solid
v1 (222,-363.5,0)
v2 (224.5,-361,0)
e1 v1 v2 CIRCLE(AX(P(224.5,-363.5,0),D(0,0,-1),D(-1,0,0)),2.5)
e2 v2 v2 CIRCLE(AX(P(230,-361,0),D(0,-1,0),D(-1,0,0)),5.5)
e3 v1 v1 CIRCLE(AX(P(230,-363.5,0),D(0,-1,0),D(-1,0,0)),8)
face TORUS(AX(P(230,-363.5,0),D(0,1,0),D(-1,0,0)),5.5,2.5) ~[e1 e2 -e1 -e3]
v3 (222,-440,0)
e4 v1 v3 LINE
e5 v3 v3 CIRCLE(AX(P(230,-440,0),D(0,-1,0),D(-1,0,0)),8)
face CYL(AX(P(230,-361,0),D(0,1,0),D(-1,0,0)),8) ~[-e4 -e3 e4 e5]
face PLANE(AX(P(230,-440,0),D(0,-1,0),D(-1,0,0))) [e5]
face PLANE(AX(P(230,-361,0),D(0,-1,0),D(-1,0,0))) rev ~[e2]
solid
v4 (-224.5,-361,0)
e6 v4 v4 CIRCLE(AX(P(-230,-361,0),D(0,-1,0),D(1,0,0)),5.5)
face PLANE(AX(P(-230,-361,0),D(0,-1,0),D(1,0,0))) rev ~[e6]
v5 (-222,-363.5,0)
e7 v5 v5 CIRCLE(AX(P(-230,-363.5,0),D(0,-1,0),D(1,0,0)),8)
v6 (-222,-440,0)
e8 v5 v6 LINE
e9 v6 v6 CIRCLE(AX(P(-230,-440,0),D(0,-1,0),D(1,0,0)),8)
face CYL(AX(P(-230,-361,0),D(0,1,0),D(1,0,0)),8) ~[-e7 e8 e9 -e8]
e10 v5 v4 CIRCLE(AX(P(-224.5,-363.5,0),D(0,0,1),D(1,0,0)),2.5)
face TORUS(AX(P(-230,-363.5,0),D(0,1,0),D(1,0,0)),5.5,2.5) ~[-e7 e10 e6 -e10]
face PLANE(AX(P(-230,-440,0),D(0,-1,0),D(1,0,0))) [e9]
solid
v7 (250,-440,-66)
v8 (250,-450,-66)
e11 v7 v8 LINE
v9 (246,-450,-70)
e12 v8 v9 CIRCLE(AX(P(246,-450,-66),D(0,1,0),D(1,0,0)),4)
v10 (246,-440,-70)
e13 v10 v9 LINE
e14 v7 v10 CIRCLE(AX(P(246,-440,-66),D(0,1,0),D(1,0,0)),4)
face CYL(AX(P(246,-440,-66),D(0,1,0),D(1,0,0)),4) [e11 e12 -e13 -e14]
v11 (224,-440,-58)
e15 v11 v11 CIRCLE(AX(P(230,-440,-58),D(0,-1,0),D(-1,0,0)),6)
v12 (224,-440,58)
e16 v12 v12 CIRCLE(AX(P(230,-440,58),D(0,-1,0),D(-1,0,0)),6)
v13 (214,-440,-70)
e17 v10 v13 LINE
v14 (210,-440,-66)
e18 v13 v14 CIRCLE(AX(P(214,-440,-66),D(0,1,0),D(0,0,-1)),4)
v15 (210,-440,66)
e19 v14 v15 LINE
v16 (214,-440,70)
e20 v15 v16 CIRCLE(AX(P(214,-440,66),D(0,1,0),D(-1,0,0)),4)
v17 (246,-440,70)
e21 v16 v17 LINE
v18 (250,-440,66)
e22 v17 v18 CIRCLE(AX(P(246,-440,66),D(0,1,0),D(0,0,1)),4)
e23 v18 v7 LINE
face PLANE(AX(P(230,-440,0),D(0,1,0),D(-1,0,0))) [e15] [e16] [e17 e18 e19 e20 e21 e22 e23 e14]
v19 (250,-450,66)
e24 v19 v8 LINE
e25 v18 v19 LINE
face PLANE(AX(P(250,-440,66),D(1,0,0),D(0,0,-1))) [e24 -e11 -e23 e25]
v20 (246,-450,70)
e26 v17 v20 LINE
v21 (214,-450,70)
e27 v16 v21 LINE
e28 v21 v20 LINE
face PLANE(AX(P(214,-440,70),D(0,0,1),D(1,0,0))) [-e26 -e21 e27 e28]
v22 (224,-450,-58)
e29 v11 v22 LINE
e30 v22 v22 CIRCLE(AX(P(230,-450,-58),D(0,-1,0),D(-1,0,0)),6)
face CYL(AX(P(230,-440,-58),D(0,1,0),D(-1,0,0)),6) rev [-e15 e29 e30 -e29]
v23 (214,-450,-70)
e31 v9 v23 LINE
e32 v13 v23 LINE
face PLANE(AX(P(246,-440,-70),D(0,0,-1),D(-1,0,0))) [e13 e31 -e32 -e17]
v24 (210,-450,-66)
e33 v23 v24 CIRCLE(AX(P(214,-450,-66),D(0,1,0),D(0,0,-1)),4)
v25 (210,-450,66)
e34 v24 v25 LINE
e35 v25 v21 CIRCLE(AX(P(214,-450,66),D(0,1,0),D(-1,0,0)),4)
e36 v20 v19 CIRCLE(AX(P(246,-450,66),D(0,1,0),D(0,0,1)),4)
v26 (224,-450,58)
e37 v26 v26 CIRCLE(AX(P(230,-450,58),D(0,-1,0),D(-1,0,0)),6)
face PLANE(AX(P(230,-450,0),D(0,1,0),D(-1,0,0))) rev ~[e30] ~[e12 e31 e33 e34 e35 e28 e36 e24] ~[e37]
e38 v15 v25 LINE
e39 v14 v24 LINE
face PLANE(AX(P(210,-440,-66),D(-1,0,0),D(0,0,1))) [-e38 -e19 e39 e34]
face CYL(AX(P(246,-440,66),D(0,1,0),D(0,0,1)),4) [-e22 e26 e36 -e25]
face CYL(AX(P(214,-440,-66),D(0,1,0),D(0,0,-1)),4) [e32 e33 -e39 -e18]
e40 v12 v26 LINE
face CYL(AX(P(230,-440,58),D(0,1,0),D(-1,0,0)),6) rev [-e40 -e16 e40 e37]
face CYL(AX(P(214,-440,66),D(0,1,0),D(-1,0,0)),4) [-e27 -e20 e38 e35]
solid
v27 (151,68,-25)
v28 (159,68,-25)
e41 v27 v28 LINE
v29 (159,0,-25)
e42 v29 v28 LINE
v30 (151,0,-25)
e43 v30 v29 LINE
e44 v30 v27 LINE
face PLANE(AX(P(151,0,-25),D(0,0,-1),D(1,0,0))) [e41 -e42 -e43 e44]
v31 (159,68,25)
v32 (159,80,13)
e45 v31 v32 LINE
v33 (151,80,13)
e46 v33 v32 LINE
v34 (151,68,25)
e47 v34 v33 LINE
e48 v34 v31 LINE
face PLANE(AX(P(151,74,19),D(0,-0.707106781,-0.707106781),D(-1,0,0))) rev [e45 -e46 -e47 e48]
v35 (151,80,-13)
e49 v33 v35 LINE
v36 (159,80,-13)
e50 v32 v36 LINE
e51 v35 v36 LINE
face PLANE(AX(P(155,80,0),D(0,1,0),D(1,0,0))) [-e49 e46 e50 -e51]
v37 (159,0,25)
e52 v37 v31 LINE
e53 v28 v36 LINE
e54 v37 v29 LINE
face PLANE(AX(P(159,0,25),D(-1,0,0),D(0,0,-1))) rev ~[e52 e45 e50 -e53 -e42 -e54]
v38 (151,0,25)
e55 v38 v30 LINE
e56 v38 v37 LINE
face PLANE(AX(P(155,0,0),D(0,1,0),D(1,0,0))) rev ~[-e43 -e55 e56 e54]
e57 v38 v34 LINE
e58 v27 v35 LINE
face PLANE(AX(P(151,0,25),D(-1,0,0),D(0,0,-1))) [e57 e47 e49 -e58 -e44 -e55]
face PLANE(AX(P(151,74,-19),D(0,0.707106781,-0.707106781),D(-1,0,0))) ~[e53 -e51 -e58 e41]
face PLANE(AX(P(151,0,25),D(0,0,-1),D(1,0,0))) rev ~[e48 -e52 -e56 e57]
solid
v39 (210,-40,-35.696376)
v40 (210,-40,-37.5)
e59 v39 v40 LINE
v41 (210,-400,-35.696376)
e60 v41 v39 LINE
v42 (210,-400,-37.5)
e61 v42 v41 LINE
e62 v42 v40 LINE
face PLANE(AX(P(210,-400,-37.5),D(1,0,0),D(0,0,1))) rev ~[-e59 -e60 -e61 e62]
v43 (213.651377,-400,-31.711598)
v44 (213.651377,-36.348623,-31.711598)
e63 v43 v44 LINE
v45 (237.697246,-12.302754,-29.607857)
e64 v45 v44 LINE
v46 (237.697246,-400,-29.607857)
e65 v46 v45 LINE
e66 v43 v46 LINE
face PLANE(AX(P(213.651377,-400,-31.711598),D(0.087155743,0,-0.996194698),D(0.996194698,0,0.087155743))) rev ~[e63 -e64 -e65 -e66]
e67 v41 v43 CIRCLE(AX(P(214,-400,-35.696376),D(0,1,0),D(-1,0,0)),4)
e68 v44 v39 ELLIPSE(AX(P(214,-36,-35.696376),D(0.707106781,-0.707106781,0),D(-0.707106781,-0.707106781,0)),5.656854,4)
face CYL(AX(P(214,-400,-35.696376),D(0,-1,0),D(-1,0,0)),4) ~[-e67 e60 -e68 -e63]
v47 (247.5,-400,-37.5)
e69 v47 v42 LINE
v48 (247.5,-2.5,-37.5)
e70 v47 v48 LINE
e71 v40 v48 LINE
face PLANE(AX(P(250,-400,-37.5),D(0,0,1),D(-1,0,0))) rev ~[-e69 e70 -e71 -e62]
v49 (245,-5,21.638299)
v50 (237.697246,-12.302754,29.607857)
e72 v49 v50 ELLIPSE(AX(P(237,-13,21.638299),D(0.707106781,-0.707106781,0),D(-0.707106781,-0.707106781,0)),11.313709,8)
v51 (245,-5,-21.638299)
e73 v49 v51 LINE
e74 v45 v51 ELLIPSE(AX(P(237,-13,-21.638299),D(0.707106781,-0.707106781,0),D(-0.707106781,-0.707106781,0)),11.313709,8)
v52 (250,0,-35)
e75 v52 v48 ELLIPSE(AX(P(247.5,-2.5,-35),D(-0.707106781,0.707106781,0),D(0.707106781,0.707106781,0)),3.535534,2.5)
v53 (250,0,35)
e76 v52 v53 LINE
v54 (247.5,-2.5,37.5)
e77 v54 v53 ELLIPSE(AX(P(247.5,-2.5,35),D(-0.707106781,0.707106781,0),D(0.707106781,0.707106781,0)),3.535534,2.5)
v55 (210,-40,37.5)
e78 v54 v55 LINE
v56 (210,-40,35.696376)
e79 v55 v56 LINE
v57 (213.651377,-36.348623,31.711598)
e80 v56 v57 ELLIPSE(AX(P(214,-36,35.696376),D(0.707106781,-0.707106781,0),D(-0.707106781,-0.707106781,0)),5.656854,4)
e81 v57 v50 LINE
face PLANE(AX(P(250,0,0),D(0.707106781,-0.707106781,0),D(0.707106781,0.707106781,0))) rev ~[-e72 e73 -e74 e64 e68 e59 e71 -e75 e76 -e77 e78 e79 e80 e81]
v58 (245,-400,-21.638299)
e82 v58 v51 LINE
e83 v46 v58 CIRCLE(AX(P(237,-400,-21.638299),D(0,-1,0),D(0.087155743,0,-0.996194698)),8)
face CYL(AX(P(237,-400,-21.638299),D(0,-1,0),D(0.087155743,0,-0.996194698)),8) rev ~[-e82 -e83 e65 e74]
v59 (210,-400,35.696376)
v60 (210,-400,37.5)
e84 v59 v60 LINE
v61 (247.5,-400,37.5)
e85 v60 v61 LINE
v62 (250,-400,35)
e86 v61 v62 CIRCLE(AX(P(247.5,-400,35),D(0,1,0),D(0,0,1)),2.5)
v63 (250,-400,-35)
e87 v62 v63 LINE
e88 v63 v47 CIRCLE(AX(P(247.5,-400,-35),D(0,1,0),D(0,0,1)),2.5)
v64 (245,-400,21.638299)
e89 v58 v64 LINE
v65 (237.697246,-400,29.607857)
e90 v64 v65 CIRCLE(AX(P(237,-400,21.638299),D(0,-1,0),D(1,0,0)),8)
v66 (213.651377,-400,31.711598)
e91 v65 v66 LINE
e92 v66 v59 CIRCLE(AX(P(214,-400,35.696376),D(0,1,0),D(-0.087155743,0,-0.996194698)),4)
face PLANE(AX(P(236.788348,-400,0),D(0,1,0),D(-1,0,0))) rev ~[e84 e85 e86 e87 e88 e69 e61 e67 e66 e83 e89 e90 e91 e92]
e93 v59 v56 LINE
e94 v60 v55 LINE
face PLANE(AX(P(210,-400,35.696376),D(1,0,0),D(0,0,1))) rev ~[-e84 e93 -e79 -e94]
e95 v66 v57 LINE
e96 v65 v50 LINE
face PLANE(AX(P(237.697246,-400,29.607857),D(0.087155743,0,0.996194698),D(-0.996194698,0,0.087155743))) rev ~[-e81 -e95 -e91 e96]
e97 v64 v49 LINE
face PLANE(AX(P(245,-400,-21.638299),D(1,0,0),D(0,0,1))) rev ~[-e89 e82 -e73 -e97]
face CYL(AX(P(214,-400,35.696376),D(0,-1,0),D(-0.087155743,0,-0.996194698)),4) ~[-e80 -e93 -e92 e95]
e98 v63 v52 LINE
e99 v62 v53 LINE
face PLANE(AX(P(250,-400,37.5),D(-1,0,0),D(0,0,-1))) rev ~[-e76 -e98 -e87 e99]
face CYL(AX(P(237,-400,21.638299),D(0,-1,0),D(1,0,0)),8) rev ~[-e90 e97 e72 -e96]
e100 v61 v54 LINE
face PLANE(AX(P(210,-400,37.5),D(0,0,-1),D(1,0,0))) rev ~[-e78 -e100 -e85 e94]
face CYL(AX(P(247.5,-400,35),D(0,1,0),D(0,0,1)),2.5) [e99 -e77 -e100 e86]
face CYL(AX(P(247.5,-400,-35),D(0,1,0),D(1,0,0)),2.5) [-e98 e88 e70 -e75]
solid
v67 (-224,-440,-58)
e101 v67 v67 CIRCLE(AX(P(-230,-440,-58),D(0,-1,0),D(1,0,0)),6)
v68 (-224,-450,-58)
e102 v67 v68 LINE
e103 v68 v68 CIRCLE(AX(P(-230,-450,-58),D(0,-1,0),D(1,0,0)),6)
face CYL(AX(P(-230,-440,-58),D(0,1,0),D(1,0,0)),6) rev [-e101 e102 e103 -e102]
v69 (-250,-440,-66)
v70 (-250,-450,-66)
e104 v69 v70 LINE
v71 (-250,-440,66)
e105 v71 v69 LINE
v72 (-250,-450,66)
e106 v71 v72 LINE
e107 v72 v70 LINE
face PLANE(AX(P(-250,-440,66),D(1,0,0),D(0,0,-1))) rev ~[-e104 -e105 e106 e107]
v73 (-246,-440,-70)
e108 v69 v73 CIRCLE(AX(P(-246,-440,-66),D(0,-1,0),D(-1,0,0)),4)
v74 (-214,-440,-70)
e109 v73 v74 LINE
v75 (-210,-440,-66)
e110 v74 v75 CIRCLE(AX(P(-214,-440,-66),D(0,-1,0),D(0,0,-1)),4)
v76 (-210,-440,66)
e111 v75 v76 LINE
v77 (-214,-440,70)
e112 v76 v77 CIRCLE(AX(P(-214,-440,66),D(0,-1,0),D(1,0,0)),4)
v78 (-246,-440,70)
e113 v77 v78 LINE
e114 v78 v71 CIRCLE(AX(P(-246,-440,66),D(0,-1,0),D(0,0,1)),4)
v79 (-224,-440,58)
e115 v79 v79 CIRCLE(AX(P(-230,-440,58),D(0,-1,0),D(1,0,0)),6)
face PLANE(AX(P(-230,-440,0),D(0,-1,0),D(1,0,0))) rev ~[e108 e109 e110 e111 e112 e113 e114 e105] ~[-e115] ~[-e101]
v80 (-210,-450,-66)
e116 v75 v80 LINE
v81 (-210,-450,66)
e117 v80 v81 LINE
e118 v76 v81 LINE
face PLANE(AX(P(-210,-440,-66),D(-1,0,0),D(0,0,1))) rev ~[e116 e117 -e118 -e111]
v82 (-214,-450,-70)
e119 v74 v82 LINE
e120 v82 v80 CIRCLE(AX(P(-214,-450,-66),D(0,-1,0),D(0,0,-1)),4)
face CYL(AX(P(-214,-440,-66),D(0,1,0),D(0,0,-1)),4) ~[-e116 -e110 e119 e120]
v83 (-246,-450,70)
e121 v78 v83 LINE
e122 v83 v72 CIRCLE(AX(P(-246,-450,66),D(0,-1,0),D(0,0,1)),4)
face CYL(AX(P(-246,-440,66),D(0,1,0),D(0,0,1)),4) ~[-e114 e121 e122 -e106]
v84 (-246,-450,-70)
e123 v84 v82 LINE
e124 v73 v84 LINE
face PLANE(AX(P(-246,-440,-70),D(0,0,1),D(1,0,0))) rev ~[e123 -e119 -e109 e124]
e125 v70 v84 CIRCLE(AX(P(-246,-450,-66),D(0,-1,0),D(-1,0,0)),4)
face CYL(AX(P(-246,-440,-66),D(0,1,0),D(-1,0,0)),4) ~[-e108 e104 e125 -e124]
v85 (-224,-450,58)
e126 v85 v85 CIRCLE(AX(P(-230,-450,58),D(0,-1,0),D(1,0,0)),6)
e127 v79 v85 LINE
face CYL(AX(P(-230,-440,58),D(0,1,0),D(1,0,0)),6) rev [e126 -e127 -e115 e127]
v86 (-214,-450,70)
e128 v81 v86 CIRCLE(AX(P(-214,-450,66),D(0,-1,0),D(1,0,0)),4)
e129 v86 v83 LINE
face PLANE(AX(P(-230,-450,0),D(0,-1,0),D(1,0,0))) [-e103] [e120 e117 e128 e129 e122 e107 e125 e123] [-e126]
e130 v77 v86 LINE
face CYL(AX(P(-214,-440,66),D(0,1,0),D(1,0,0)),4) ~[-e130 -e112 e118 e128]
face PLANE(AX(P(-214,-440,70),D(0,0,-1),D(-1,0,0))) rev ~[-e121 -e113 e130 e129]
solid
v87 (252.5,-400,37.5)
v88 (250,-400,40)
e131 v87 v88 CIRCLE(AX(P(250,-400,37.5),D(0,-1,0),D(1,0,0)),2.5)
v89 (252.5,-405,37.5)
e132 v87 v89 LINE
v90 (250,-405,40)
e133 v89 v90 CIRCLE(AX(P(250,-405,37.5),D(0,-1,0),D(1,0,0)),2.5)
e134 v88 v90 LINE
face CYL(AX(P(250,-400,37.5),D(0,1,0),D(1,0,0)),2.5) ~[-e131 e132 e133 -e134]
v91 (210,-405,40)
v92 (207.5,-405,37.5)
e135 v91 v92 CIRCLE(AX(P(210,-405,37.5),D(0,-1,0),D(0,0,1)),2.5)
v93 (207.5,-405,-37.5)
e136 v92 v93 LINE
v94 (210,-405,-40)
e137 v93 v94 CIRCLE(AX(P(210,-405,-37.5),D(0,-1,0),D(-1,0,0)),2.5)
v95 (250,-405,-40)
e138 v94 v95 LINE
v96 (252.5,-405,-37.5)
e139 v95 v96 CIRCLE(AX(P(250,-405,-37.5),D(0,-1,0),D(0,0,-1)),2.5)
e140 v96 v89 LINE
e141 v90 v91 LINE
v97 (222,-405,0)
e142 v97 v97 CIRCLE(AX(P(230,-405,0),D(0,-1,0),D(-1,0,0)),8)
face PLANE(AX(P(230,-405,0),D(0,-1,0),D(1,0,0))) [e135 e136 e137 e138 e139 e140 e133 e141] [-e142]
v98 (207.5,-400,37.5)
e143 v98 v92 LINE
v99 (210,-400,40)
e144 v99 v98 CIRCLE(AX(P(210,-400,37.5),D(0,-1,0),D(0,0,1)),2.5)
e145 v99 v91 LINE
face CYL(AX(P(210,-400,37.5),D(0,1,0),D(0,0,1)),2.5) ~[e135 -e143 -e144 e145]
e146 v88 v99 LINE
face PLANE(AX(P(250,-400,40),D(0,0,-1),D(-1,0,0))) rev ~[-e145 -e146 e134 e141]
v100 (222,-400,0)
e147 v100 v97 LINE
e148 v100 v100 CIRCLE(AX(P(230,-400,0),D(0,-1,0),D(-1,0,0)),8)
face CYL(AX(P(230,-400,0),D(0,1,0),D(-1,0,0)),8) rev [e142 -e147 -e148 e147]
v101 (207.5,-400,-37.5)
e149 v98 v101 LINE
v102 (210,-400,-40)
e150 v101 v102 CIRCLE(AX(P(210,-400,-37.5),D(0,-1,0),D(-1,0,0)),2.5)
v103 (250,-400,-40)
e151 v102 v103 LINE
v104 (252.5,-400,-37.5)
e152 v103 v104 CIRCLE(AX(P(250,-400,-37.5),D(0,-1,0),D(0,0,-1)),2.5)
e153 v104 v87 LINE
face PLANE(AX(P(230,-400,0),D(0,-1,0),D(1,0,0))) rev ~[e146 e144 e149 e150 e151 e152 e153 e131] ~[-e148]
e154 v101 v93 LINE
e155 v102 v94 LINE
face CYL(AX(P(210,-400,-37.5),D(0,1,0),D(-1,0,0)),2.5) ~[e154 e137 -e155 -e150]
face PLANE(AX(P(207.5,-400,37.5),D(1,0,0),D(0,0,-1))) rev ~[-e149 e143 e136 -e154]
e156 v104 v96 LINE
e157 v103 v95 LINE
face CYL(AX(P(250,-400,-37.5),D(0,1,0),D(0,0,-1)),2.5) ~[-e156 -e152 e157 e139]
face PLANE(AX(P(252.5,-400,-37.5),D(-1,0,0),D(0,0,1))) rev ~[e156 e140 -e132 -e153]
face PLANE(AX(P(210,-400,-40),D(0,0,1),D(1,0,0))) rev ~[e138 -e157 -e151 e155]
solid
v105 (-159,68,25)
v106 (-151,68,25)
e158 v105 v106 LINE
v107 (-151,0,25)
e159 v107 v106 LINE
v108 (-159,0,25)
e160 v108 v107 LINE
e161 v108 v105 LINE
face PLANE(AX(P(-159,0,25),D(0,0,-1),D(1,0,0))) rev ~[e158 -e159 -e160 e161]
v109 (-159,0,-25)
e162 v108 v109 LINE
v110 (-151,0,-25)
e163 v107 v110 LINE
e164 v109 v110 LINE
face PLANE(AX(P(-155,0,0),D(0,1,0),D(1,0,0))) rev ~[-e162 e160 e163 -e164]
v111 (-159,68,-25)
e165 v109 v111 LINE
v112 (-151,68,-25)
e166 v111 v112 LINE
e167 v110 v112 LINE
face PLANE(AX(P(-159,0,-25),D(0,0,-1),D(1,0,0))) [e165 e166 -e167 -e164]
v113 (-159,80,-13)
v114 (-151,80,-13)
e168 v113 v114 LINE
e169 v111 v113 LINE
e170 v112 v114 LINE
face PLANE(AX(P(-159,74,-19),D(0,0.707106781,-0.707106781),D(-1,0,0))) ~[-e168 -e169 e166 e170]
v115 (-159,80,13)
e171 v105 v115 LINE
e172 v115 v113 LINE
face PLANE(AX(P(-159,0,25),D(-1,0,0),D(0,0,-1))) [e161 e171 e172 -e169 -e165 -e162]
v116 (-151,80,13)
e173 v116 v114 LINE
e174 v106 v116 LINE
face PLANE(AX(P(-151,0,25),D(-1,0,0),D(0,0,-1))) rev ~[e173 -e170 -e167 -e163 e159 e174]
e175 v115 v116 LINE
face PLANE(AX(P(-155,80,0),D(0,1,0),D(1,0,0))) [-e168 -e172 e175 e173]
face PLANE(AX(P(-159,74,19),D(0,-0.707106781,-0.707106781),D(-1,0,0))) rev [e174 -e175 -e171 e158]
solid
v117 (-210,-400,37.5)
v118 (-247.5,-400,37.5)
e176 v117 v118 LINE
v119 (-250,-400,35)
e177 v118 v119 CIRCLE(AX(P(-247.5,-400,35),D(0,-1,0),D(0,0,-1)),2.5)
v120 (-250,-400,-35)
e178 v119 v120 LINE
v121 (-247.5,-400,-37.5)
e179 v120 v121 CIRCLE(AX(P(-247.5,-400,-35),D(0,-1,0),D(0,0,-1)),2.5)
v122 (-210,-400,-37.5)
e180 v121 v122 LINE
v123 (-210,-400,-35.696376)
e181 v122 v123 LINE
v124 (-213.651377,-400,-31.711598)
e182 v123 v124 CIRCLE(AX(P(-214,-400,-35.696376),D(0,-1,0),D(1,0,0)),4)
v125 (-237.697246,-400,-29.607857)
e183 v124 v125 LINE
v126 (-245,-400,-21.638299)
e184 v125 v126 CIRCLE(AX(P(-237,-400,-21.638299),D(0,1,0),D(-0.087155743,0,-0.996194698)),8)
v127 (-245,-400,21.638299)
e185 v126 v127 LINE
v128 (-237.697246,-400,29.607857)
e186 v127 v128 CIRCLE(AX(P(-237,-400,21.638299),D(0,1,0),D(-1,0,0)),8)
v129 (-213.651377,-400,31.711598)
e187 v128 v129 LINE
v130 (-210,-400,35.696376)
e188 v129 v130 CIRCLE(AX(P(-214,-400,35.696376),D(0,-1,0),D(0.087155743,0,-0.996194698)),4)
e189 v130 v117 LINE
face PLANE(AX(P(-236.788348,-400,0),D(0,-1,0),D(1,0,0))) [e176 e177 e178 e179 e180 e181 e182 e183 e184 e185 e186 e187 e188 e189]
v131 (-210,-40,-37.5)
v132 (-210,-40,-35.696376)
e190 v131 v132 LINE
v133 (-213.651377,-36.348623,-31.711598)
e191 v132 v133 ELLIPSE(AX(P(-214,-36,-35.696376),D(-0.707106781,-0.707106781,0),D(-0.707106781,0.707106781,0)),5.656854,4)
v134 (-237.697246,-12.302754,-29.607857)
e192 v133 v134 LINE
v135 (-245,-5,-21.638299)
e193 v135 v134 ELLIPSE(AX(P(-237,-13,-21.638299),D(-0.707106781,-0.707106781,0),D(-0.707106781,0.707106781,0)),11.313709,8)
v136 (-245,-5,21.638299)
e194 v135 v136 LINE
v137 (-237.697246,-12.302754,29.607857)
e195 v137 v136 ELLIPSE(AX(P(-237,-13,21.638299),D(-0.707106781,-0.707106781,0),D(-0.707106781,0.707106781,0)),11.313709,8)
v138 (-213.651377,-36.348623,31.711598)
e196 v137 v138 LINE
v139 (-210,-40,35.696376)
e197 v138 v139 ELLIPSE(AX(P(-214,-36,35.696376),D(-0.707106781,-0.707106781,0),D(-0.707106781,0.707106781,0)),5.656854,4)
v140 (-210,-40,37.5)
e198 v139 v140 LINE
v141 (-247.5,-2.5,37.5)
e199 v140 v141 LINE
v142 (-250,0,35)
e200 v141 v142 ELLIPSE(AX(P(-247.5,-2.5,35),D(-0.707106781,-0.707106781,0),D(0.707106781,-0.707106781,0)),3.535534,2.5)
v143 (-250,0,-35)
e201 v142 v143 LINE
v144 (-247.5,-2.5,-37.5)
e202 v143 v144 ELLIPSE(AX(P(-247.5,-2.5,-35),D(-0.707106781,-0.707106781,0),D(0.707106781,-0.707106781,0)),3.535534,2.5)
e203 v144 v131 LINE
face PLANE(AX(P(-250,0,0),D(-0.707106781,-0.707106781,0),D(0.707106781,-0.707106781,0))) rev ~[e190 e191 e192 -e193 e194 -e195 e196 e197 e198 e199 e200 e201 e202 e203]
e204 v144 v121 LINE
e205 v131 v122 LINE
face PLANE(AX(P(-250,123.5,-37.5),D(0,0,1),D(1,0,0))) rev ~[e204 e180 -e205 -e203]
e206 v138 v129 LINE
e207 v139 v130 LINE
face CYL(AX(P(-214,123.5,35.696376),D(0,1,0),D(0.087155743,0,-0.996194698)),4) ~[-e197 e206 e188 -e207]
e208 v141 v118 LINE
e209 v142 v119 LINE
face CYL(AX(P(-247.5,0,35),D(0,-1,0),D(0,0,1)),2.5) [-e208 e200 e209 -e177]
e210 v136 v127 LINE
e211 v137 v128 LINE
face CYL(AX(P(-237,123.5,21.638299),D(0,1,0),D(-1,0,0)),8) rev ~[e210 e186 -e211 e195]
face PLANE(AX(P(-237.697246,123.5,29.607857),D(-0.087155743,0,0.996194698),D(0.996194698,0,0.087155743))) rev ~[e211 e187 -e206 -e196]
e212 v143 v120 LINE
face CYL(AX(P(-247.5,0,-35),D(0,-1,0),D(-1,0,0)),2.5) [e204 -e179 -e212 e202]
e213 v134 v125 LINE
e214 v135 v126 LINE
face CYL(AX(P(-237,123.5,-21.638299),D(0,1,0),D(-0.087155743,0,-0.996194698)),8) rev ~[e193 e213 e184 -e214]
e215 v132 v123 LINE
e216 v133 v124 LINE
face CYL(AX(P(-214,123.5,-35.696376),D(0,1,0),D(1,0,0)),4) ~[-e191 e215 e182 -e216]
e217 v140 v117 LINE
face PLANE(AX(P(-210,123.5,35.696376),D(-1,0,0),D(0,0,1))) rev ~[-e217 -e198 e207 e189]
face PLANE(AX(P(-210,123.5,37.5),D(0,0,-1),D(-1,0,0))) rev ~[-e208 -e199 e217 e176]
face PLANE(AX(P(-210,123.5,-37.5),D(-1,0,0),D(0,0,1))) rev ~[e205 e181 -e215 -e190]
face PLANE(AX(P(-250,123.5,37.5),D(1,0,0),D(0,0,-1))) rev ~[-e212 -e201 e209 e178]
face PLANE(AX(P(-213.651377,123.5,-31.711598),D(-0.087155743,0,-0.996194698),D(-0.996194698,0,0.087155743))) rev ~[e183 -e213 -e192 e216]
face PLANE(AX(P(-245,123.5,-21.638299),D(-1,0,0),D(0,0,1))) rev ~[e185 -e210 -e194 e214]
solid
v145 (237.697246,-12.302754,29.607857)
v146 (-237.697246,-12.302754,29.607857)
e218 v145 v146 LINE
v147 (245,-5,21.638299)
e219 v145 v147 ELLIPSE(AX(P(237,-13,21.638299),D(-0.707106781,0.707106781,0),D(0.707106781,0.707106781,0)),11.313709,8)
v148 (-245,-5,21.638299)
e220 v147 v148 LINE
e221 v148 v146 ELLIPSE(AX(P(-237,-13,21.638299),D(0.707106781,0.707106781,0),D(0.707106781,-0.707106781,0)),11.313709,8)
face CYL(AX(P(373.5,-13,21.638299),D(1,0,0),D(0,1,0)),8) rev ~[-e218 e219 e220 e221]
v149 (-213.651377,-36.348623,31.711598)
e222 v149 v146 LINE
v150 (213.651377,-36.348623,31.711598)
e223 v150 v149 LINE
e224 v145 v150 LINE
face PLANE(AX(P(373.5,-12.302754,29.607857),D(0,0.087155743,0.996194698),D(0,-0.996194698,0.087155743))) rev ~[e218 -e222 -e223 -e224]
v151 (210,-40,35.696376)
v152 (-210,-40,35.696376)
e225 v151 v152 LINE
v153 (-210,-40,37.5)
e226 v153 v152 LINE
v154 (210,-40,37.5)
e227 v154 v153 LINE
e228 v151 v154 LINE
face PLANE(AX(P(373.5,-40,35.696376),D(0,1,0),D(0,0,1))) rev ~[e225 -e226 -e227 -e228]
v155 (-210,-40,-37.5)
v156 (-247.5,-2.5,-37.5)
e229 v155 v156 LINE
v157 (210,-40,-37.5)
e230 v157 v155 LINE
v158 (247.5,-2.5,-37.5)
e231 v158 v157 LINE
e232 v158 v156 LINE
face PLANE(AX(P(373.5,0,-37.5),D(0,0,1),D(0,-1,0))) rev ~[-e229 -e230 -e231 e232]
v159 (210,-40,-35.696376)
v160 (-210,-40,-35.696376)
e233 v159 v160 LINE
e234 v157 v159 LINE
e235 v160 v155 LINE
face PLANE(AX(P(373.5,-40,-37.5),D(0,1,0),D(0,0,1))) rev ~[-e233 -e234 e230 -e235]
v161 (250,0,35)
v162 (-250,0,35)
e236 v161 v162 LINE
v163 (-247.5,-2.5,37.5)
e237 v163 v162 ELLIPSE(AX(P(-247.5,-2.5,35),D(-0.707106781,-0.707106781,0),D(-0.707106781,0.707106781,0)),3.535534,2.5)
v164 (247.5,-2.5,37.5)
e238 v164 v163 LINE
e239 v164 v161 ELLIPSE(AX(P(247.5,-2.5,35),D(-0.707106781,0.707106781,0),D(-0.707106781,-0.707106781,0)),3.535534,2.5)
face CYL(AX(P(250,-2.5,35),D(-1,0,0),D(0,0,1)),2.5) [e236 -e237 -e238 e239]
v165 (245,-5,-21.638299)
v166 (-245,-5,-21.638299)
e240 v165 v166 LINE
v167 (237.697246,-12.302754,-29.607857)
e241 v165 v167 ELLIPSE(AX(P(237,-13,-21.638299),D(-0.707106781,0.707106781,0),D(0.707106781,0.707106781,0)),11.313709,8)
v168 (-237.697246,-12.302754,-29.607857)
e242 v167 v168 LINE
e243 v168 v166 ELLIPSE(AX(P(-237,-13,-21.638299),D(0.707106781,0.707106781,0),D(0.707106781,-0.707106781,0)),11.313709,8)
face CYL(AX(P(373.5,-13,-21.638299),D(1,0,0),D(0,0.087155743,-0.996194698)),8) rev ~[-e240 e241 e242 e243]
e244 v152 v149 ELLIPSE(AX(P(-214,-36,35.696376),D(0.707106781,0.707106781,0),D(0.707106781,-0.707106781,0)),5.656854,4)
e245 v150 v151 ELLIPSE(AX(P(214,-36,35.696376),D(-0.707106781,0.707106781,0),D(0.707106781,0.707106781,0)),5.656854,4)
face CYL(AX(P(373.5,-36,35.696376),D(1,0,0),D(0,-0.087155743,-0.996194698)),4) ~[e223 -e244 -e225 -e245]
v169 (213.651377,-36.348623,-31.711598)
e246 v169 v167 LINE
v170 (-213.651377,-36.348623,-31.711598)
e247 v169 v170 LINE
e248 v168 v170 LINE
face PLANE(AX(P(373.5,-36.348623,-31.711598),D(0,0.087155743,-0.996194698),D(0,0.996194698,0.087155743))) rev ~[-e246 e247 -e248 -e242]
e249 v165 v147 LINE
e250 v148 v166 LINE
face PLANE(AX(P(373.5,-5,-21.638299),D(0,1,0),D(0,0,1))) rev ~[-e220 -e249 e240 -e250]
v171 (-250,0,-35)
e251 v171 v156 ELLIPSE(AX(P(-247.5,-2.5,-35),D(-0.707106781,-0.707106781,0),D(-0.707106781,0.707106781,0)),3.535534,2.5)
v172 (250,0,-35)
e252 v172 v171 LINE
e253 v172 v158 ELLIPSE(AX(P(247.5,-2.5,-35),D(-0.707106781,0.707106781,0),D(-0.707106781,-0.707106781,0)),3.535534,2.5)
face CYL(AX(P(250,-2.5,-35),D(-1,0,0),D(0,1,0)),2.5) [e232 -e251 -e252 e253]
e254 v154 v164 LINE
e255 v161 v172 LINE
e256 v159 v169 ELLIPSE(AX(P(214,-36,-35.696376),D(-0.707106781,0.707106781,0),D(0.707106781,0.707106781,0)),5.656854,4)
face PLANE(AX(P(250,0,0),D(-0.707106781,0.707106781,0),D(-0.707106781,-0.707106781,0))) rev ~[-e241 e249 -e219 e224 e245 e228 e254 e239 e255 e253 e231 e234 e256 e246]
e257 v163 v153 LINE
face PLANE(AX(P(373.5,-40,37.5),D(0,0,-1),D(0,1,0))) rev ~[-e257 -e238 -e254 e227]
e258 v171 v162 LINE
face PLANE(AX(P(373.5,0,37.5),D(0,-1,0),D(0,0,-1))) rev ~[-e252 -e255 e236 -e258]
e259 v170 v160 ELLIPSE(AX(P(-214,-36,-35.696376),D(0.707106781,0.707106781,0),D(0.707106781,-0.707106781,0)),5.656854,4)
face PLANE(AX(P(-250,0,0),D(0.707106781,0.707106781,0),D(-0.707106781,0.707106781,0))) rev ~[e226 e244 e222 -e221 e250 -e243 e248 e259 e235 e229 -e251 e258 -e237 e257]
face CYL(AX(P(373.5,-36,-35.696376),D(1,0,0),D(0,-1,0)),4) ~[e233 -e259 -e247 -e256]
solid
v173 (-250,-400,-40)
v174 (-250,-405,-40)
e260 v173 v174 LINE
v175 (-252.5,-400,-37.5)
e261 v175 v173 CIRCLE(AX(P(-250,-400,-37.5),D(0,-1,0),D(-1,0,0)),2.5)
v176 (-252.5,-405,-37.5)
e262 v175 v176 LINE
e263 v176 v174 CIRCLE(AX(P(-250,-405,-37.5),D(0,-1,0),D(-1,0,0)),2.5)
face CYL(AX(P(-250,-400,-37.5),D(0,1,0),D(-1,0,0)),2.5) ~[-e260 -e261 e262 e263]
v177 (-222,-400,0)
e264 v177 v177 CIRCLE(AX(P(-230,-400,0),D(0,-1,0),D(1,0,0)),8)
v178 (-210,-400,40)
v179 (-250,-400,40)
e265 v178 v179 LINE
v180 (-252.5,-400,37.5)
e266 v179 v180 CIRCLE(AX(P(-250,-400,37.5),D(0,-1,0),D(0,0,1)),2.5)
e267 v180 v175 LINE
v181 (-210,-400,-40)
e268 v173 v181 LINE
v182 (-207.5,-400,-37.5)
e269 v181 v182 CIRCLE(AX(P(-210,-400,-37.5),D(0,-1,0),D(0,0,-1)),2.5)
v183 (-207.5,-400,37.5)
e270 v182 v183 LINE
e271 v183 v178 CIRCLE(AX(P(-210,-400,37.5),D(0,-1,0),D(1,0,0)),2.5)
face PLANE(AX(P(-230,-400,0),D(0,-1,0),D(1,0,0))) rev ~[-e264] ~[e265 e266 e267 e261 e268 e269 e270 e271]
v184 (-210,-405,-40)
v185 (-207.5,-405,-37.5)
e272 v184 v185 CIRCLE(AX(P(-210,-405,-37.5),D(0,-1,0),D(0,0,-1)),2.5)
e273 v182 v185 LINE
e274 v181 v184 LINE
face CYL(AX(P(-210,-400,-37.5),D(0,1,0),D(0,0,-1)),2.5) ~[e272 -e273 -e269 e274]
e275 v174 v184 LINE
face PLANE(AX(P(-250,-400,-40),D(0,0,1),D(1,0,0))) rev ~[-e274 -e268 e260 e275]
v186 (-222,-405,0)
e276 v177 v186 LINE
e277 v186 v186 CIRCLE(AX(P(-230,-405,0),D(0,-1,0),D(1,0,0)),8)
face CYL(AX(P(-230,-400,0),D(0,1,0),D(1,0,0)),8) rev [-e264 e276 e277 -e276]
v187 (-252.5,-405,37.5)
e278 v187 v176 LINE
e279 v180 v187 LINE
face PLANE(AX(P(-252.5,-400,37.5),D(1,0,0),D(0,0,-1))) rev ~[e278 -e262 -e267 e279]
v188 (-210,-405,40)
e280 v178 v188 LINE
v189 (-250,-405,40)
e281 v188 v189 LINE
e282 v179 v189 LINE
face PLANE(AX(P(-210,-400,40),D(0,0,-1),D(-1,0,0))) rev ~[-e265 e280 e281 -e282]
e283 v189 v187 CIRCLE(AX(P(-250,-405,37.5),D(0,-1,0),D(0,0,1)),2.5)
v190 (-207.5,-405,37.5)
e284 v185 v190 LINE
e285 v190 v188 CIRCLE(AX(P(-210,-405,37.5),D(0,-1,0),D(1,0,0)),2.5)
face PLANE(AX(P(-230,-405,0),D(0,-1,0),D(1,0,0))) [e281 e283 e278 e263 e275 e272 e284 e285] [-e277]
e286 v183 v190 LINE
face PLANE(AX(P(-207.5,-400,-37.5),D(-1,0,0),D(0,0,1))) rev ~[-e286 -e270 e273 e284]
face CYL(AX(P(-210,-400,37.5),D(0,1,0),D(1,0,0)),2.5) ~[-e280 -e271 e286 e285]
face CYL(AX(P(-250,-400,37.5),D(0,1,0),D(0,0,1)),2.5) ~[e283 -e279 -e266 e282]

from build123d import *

# Parameters (mm, degrees)
CHANNEL_C_75_X_40_X_5_0_1_DEPTH        = 523.5
CHANNEL_C_75_X_40_X_5_0_1_2_DEPTH      = 747
CHANNEL_C_75_X_40_X_5_0_1_3_DEPTH      = 400
CHANNEL_C_75_X_40_X_5_0_1_3_DEPTH_BACK = 123.5
SKETCH15_R                             = 8
BOSS_EXTRUDE1_DEPTH                    = 5
BOSS_EXTRUDE1_2_DEPTH                  = 5
FILLET1_R                              = 2.5
FILLET2_R                              = 2.5
FILLET3_R                              = 2.5
SKETCH16_W                             = 8
SKETCH16_H                             = 50
BOSS_EXTRUDE2_DEPTH                    = 80
BOSS_EXTRUDE2_2_DEPTH                  = 80
CHAMFER1_SIZE                          = 12
CHAMFER2_SIZE                          = 12
BOSS_EXTRUDE3_DEPTH                    = 35
BOSS_EXTRUDE3_DEPTH_BACK               = 44
SKETCH17_R                             = 8
BOSS_EXTRUDE3_2_DEPTH                  = 35
BOSS_EXTRUDE3_2_DEPTH_BACK             = 44
FILLET6_R                              = 2.5
FILLET7_R                              = 2.5
SKETCH18_R                             = 6
BOSS_EXTRUDE4_DEPTH                    = 10
BOSS_EXTRUDE4_2_DEPTH                  = 10


with BuildPart() as part:
    # Sketch14 on segment 1 (carried to segment 1) → Channel C 75 X 40 X 5.0(1) (new body)
    with BuildSketch(Plane(origin=(250, -400, -37.5), x_dir=(-1, 0, 0), z_dir=(0, 1, 0))):
        with BuildLine():
            Line((40, 75), (0, 75))
            Line((0, 75), (0, 0))
            Line((0, 0), (40, 0))
            Line((40, 0), (40, 1.803623692))
            ThreePointArc((40, 1.803623692), (38.949109347, 4.505984523), (36.348622971, 5.788402485))
            Line((36.348622971, 5.788402485), (12.302754058, 7.892143419))
            ThreePointArc((12.302754058, 7.892143419), (7.101781306, 10.456979343), (5, 15.861701004))
            Line((5, 15.861701004), (5, 59.138298996))
            ThreePointArc((5, 59.138298996), (7.101781306, 64.543020657), (12.302754058, 67.107856581))
            Line((12.302754058, 67.107856581), (36.348622971, 69.211597515))
            ThreePointArc((36.348622971, 69.211597515), (38.949109347, 70.494015477), (40, 73.196376308))
            Line((40, 73.196376308), (40, 75))
        make_face()
    extrude(amount=CHANNEL_C_75_X_40_X_5_0_1_DEPTH)

    # Channel C 75 X 40 X 5.0(1) mitre 1
    split(bisect_by=Plane(origin=(250, 0, 0), x_dir=(0.707106781, 0.707106781, 0), z_dir=(0.707106781, -0.707106781, 0)), keep=Keep.TOP)

    # Fillet3
    fillet3_edges = [part.edges().sort_by_distance(p)[0] for p in [
        (250, -200, 37.5),
        (250, -200, -37.5),
    ]]
    fillet(fillet3_edges, radius=FILLET3_R)


with BuildPart() as body_2:
    # Sketch14 on segment 2 (carried to segment 2) → Channel C 75 X 40 X 5.0_1 2 (new body)
    with BuildSketch(Plane(origin=(373.5, 0, -37.5), x_dir=(0, -1, 0), z_dir=(-1, 0, 0))):
        with BuildLine():
            Line((40, 75), (0, 75))
            Line((0, 75), (0, 0))
            Line((0, 0), (40, 0))
            Line((40, 0), (40, 1.803623692))
            ThreePointArc((40, 1.803623692), (38.949109347, 4.505984523), (36.348622971, 5.788402485))
            Line((36.348622971, 5.788402485), (12.302754058, 7.892143419))
            ThreePointArc((12.302754058, 7.892143419), (7.101781306, 10.456979343), (5, 15.861701004))
            Line((5, 15.861701004), (5, 59.138298996))
            ThreePointArc((5, 59.138298996), (7.101781306, 64.543020657), (12.302754058, 67.107856581))
            Line((12.302754058, 67.107856581), (36.348622971, 69.211597515))
            ThreePointArc((36.348622971, 69.211597515), (38.949109347, 70.494015477), (40, 73.196376308))
            Line((40, 73.196376308), (40, 75))
        make_face()
    extrude(amount=CHANNEL_C_75_X_40_X_5_0_1_2_DEPTH)

    # Channel C 75 X 40 X 5.0_1 2 mitre 1
    split(bisect_by=Plane(origin=(250, 0, 0), x_dir=(-0.707106781, -0.707106781, 0), z_dir=(-0.707106781, 0.707106781, 0)), keep=Keep.TOP)

    # Channel C 75 X 40 X 5.0_1 2 mitre 2
    split(bisect_by=Plane(origin=(-250, 0, 0), x_dir=(-0.707106781, 0.707106781, 0), z_dir=(0.707106781, 0.707106781, 0)), keep=Keep.TOP)

    # Fillet2
    fillet2_edges = [body_2.edges().sort_by_distance(p)[0] for p in [
        (0, 0, 37.5),
        (0, 0, -37.5),
    ]]
    fillet(fillet2_edges, radius=FILLET2_R)


with BuildPart() as body_3:
    # Sketch14 → Channel C 75 X 40 X 5.0_1 3 (new, two sides: drawn at the far end of the back side and taken through both)
    with BuildSketch(Plane(origin=(-250, 0, -37.5), x_dir=(1, 0, 0), z_dir=(0, -1, 0)).offset(-CHANNEL_C_75_X_40_X_5_0_1_3_DEPTH_BACK)):
        with BuildLine():
            Line((40, 75), (0, 75))
            Line((0, 75), (0, 0))
            Line((0, 0), (40, 0))
            Line((40, 0), (40, 1.803623692))
            ThreePointArc((40, 1.803623692), (38.949109347, 4.505984523), (36.348622971, 5.788402485))
            Line((36.348622971, 5.788402485), (12.302754058, 7.892143419))
            ThreePointArc((12.302754058, 7.892143419), (7.101781306, 10.456979343), (5, 15.861701004))
            Line((5, 15.861701004), (5, 59.138298996))
            ThreePointArc((5, 59.138298996), (7.101781306, 64.543020657), (12.302754058, 67.107856581))
            Line((12.302754058, 67.107856581), (36.348622971, 69.211597515))
            ThreePointArc((36.348622971, 69.211597515), (38.949109347, 70.494015477), (40, 73.196376308))
            Line((40, 73.196376308), (40, 75))
        make_face()
    extrude(amount=CHANNEL_C_75_X_40_X_5_0_1_3_DEPTH + CHANNEL_C_75_X_40_X_5_0_1_3_DEPTH_BACK)

    # Channel C 75 X 40 X 5.0_1 3 mitre 1
    split(bisect_by=Plane(origin=(-250, 0, 0), x_dir=(0.707106781, -0.707106781, 0), z_dir=(-0.707106781, -0.707106781, 0)), keep=Keep.TOP)

    # Fillet1
    fillet1_edges = [body_3.edges().sort_by_distance(p)[0] for p in [
        (-250, -200, 37.5),
        (-250, -200, -37.5),
    ]]
    fillet(fillet1_edges, radius=FILLET1_R)


with BuildPart() as body_4:
    # Sketch15 → Boss-Extrude1 (new body)
    with BuildSketch(Plane.XZ.offset(400)):
        with BuildLine():
            Line((-252.5, 37.5), (-252.5, -37.5))
            ThreePointArc((-252.5, -37.5), (-251.767766953, -39.267766953), (-250, -40))
            Line((-250, -40), (-210, -40))
            ThreePointArc((-210, -40), (-208.232233047, -39.267766953), (-207.5, -37.5))
            Line((-207.5, -37.5), (-207.5, 37.5))
            ThreePointArc((-207.5, 37.5), (-208.232233047, 39.267766953), (-210, 40))
            Line((-210, 40), (-250, 40))
            ThreePointArc((-250, 40), (-251.767766953, 39.267766953), (-252.5, 37.5))
        make_face()
        with Locations((-230, 0)):
            Circle(SKETCH15_R, mode=Mode.SUBTRACT)
    extrude(amount=BOSS_EXTRUDE1_DEPTH)


with BuildPart() as body_5:
    # Sketch15 → Boss-Extrude1 2 (new body)
    with BuildSketch(Plane.XZ.offset(400)):
        with BuildLine():
            Line((252.5, -37.5), (252.5, 37.5))
            ThreePointArc((252.5, 37.5), (251.767766953, 39.267766953), (250, 40))
            Line((250, 40), (210, 40))
            ThreePointArc((210, 40), (208.232233047, 39.267766953), (207.5, 37.5))
            Line((207.5, 37.5), (207.5, -37.5))
            ThreePointArc((207.5, -37.5), (208.232233047, -39.267766953), (210, -40))
            Line((210, -40), (250, -40))
            ThreePointArc((250, -40), (251.767766953, -39.267766953), (252.5, -37.5))
        make_face()
        with Locations(Location((230, 0, 0), (0, 0, 180))):
            Circle(SKETCH15_R, mode=Mode.SUBTRACT)
    extrude(amount=BOSS_EXTRUDE1_2_DEPTH)


with BuildPart() as body_6:
    # Sketch16 → Boss-Extrude2 (new body)
    with BuildSketch(Plane(origin=(0, 0, 0), x_dir=(1, 0, 0), z_dir=(0, 1, 0))):
        with Locations((-155, 0)):
            Rectangle(SKETCH16_W, SKETCH16_H)
    extrude(amount=BOSS_EXTRUDE2_DEPTH)

    # Chamfer1
    chamfer1_edges = [body_6.edges().sort_by_distance(p)[0] for p in [
        (-155, 80, -25),
        (-155, 80, 25),
    ]]
    chamfer(chamfer1_edges, length=CHAMFER1_SIZE)


with BuildPart() as body_7:
    # Sketch16 → Boss-Extrude2 2 (new body)
    with BuildSketch(Plane(origin=(0, 0, 0), x_dir=(1, 0, 0), z_dir=(0, 1, 0))):
        with Locations((155, 0)):
            Rectangle(SKETCH16_W, SKETCH16_H)
    extrude(amount=BOSS_EXTRUDE2_2_DEPTH)

    # Chamfer2
    chamfer2_edges = [body_7.edges().sort_by_distance(p)[0] for p in [
        (155, 80, 25),
        (155, 80, -25),
    ]]
    chamfer(chamfer2_edges, length=CHAMFER2_SIZE)


with BuildPart() as body_8:
    # Sketch17 → Boss-Extrude3 (new, two sides: drawn at the far end of the back side and taken through both)
    with BuildSketch(Plane.XZ.offset(405).offset(-BOSS_EXTRUDE3_DEPTH_BACK)):
        with Locations((-230, 0)):
            Circle(SKETCH17_R)
    extrude(amount=BOSS_EXTRUDE3_DEPTH + BOSS_EXTRUDE3_DEPTH_BACK)

    # Fillet6
    fillet6_edges = [body_8.edges().sort_by_distance(p)[0] for p in [
        (-238, -361, 0),
    ]]
    fillet(fillet6_edges, radius=FILLET6_R)


with BuildPart() as body_9:
    # Sketch17 → Boss-Extrude3 2 (new, two sides: drawn at the far end of the back side and taken through both)
    with BuildSketch(Plane.XZ.offset(405).offset(-BOSS_EXTRUDE3_2_DEPTH_BACK)):
        with Locations(Location((230, 0, 0), (0, 0, 180))):
            Circle(SKETCH17_R)
    extrude(amount=BOSS_EXTRUDE3_2_DEPTH + BOSS_EXTRUDE3_2_DEPTH_BACK)

    # Fillet7
    fillet7_edges = [body_9.edges().sort_by_distance(p)[0] for p in [
        (238, -361, 0),
    ]]
    fillet(fillet7_edges, radius=FILLET7_R)


with BuildPart() as body_10:
    # Sketch18 → Boss-Extrude4 (new body)
    with BuildSketch(Plane.XZ.offset(440)):
        with BuildLine():
            Line((-246, -70), (-214, -70))
            ThreePointArc((-214, -70), (-211.171572875, -68.828427125), (-210, -66))
            Line((-210, -66), (-210, 66))
            ThreePointArc((-210, 66), (-211.171572875, 68.828427125), (-214, 70))
            Line((-214, 70), (-246, 70))
            ThreePointArc((-246, 70), (-248.828427125, 68.828427125), (-250, 66))
            Line((-250, 66), (-250, -66))
            ThreePointArc((-250, -66), (-248.828427125, -68.828427125), (-246, -70))
        make_face()
        with Locations((-230, 58)):
            Circle(SKETCH18_R, mode=Mode.SUBTRACT)
        with Locations((-230, -58)):
            Circle(SKETCH18_R, mode=Mode.SUBTRACT)
    extrude(amount=BOSS_EXTRUDE4_DEPTH)


with BuildPart() as body_11:
    # Sketch18 → Boss-Extrude4 2 (new body)
    with BuildSketch(Plane.XZ.offset(440)):
        with BuildLine():
            Line((210, -66), (210, 66))
            ThreePointArc((210, 66), (211.171572875, 68.828427125), (214, 70))
            Line((214, 70), (246, 70))
            ThreePointArc((246, 70), (248.828427125, 68.828427125), (250, 66))
            Line((250, 66), (250, -66))
            ThreePointArc((250, -66), (248.828427125, -68.828427125), (246, -70))
            Line((246, -70), (214, -70))
            ThreePointArc((214, -70), (211.171572875, -68.828427125), (210, -66))
        make_face()
        with Locations(Location((230, -58, 0), (0, 0, 180))):
            Circle(SKETCH18_R, mode=Mode.SUBTRACT)
        with Locations(Location((230, 58, 0), (0, 0, 180))):
            Circle(SKETCH18_R, mode=Mode.SUBTRACT)
    extrude(amount=BOSS_EXTRUDE4_2_DEPTH)


solid = Compound([part.part, body_2.part, body_3.part, body_4.part, body_5.part, body_6.part, body_7.part, body_8.part, body_9.part, body_10.part, body_11.part])
